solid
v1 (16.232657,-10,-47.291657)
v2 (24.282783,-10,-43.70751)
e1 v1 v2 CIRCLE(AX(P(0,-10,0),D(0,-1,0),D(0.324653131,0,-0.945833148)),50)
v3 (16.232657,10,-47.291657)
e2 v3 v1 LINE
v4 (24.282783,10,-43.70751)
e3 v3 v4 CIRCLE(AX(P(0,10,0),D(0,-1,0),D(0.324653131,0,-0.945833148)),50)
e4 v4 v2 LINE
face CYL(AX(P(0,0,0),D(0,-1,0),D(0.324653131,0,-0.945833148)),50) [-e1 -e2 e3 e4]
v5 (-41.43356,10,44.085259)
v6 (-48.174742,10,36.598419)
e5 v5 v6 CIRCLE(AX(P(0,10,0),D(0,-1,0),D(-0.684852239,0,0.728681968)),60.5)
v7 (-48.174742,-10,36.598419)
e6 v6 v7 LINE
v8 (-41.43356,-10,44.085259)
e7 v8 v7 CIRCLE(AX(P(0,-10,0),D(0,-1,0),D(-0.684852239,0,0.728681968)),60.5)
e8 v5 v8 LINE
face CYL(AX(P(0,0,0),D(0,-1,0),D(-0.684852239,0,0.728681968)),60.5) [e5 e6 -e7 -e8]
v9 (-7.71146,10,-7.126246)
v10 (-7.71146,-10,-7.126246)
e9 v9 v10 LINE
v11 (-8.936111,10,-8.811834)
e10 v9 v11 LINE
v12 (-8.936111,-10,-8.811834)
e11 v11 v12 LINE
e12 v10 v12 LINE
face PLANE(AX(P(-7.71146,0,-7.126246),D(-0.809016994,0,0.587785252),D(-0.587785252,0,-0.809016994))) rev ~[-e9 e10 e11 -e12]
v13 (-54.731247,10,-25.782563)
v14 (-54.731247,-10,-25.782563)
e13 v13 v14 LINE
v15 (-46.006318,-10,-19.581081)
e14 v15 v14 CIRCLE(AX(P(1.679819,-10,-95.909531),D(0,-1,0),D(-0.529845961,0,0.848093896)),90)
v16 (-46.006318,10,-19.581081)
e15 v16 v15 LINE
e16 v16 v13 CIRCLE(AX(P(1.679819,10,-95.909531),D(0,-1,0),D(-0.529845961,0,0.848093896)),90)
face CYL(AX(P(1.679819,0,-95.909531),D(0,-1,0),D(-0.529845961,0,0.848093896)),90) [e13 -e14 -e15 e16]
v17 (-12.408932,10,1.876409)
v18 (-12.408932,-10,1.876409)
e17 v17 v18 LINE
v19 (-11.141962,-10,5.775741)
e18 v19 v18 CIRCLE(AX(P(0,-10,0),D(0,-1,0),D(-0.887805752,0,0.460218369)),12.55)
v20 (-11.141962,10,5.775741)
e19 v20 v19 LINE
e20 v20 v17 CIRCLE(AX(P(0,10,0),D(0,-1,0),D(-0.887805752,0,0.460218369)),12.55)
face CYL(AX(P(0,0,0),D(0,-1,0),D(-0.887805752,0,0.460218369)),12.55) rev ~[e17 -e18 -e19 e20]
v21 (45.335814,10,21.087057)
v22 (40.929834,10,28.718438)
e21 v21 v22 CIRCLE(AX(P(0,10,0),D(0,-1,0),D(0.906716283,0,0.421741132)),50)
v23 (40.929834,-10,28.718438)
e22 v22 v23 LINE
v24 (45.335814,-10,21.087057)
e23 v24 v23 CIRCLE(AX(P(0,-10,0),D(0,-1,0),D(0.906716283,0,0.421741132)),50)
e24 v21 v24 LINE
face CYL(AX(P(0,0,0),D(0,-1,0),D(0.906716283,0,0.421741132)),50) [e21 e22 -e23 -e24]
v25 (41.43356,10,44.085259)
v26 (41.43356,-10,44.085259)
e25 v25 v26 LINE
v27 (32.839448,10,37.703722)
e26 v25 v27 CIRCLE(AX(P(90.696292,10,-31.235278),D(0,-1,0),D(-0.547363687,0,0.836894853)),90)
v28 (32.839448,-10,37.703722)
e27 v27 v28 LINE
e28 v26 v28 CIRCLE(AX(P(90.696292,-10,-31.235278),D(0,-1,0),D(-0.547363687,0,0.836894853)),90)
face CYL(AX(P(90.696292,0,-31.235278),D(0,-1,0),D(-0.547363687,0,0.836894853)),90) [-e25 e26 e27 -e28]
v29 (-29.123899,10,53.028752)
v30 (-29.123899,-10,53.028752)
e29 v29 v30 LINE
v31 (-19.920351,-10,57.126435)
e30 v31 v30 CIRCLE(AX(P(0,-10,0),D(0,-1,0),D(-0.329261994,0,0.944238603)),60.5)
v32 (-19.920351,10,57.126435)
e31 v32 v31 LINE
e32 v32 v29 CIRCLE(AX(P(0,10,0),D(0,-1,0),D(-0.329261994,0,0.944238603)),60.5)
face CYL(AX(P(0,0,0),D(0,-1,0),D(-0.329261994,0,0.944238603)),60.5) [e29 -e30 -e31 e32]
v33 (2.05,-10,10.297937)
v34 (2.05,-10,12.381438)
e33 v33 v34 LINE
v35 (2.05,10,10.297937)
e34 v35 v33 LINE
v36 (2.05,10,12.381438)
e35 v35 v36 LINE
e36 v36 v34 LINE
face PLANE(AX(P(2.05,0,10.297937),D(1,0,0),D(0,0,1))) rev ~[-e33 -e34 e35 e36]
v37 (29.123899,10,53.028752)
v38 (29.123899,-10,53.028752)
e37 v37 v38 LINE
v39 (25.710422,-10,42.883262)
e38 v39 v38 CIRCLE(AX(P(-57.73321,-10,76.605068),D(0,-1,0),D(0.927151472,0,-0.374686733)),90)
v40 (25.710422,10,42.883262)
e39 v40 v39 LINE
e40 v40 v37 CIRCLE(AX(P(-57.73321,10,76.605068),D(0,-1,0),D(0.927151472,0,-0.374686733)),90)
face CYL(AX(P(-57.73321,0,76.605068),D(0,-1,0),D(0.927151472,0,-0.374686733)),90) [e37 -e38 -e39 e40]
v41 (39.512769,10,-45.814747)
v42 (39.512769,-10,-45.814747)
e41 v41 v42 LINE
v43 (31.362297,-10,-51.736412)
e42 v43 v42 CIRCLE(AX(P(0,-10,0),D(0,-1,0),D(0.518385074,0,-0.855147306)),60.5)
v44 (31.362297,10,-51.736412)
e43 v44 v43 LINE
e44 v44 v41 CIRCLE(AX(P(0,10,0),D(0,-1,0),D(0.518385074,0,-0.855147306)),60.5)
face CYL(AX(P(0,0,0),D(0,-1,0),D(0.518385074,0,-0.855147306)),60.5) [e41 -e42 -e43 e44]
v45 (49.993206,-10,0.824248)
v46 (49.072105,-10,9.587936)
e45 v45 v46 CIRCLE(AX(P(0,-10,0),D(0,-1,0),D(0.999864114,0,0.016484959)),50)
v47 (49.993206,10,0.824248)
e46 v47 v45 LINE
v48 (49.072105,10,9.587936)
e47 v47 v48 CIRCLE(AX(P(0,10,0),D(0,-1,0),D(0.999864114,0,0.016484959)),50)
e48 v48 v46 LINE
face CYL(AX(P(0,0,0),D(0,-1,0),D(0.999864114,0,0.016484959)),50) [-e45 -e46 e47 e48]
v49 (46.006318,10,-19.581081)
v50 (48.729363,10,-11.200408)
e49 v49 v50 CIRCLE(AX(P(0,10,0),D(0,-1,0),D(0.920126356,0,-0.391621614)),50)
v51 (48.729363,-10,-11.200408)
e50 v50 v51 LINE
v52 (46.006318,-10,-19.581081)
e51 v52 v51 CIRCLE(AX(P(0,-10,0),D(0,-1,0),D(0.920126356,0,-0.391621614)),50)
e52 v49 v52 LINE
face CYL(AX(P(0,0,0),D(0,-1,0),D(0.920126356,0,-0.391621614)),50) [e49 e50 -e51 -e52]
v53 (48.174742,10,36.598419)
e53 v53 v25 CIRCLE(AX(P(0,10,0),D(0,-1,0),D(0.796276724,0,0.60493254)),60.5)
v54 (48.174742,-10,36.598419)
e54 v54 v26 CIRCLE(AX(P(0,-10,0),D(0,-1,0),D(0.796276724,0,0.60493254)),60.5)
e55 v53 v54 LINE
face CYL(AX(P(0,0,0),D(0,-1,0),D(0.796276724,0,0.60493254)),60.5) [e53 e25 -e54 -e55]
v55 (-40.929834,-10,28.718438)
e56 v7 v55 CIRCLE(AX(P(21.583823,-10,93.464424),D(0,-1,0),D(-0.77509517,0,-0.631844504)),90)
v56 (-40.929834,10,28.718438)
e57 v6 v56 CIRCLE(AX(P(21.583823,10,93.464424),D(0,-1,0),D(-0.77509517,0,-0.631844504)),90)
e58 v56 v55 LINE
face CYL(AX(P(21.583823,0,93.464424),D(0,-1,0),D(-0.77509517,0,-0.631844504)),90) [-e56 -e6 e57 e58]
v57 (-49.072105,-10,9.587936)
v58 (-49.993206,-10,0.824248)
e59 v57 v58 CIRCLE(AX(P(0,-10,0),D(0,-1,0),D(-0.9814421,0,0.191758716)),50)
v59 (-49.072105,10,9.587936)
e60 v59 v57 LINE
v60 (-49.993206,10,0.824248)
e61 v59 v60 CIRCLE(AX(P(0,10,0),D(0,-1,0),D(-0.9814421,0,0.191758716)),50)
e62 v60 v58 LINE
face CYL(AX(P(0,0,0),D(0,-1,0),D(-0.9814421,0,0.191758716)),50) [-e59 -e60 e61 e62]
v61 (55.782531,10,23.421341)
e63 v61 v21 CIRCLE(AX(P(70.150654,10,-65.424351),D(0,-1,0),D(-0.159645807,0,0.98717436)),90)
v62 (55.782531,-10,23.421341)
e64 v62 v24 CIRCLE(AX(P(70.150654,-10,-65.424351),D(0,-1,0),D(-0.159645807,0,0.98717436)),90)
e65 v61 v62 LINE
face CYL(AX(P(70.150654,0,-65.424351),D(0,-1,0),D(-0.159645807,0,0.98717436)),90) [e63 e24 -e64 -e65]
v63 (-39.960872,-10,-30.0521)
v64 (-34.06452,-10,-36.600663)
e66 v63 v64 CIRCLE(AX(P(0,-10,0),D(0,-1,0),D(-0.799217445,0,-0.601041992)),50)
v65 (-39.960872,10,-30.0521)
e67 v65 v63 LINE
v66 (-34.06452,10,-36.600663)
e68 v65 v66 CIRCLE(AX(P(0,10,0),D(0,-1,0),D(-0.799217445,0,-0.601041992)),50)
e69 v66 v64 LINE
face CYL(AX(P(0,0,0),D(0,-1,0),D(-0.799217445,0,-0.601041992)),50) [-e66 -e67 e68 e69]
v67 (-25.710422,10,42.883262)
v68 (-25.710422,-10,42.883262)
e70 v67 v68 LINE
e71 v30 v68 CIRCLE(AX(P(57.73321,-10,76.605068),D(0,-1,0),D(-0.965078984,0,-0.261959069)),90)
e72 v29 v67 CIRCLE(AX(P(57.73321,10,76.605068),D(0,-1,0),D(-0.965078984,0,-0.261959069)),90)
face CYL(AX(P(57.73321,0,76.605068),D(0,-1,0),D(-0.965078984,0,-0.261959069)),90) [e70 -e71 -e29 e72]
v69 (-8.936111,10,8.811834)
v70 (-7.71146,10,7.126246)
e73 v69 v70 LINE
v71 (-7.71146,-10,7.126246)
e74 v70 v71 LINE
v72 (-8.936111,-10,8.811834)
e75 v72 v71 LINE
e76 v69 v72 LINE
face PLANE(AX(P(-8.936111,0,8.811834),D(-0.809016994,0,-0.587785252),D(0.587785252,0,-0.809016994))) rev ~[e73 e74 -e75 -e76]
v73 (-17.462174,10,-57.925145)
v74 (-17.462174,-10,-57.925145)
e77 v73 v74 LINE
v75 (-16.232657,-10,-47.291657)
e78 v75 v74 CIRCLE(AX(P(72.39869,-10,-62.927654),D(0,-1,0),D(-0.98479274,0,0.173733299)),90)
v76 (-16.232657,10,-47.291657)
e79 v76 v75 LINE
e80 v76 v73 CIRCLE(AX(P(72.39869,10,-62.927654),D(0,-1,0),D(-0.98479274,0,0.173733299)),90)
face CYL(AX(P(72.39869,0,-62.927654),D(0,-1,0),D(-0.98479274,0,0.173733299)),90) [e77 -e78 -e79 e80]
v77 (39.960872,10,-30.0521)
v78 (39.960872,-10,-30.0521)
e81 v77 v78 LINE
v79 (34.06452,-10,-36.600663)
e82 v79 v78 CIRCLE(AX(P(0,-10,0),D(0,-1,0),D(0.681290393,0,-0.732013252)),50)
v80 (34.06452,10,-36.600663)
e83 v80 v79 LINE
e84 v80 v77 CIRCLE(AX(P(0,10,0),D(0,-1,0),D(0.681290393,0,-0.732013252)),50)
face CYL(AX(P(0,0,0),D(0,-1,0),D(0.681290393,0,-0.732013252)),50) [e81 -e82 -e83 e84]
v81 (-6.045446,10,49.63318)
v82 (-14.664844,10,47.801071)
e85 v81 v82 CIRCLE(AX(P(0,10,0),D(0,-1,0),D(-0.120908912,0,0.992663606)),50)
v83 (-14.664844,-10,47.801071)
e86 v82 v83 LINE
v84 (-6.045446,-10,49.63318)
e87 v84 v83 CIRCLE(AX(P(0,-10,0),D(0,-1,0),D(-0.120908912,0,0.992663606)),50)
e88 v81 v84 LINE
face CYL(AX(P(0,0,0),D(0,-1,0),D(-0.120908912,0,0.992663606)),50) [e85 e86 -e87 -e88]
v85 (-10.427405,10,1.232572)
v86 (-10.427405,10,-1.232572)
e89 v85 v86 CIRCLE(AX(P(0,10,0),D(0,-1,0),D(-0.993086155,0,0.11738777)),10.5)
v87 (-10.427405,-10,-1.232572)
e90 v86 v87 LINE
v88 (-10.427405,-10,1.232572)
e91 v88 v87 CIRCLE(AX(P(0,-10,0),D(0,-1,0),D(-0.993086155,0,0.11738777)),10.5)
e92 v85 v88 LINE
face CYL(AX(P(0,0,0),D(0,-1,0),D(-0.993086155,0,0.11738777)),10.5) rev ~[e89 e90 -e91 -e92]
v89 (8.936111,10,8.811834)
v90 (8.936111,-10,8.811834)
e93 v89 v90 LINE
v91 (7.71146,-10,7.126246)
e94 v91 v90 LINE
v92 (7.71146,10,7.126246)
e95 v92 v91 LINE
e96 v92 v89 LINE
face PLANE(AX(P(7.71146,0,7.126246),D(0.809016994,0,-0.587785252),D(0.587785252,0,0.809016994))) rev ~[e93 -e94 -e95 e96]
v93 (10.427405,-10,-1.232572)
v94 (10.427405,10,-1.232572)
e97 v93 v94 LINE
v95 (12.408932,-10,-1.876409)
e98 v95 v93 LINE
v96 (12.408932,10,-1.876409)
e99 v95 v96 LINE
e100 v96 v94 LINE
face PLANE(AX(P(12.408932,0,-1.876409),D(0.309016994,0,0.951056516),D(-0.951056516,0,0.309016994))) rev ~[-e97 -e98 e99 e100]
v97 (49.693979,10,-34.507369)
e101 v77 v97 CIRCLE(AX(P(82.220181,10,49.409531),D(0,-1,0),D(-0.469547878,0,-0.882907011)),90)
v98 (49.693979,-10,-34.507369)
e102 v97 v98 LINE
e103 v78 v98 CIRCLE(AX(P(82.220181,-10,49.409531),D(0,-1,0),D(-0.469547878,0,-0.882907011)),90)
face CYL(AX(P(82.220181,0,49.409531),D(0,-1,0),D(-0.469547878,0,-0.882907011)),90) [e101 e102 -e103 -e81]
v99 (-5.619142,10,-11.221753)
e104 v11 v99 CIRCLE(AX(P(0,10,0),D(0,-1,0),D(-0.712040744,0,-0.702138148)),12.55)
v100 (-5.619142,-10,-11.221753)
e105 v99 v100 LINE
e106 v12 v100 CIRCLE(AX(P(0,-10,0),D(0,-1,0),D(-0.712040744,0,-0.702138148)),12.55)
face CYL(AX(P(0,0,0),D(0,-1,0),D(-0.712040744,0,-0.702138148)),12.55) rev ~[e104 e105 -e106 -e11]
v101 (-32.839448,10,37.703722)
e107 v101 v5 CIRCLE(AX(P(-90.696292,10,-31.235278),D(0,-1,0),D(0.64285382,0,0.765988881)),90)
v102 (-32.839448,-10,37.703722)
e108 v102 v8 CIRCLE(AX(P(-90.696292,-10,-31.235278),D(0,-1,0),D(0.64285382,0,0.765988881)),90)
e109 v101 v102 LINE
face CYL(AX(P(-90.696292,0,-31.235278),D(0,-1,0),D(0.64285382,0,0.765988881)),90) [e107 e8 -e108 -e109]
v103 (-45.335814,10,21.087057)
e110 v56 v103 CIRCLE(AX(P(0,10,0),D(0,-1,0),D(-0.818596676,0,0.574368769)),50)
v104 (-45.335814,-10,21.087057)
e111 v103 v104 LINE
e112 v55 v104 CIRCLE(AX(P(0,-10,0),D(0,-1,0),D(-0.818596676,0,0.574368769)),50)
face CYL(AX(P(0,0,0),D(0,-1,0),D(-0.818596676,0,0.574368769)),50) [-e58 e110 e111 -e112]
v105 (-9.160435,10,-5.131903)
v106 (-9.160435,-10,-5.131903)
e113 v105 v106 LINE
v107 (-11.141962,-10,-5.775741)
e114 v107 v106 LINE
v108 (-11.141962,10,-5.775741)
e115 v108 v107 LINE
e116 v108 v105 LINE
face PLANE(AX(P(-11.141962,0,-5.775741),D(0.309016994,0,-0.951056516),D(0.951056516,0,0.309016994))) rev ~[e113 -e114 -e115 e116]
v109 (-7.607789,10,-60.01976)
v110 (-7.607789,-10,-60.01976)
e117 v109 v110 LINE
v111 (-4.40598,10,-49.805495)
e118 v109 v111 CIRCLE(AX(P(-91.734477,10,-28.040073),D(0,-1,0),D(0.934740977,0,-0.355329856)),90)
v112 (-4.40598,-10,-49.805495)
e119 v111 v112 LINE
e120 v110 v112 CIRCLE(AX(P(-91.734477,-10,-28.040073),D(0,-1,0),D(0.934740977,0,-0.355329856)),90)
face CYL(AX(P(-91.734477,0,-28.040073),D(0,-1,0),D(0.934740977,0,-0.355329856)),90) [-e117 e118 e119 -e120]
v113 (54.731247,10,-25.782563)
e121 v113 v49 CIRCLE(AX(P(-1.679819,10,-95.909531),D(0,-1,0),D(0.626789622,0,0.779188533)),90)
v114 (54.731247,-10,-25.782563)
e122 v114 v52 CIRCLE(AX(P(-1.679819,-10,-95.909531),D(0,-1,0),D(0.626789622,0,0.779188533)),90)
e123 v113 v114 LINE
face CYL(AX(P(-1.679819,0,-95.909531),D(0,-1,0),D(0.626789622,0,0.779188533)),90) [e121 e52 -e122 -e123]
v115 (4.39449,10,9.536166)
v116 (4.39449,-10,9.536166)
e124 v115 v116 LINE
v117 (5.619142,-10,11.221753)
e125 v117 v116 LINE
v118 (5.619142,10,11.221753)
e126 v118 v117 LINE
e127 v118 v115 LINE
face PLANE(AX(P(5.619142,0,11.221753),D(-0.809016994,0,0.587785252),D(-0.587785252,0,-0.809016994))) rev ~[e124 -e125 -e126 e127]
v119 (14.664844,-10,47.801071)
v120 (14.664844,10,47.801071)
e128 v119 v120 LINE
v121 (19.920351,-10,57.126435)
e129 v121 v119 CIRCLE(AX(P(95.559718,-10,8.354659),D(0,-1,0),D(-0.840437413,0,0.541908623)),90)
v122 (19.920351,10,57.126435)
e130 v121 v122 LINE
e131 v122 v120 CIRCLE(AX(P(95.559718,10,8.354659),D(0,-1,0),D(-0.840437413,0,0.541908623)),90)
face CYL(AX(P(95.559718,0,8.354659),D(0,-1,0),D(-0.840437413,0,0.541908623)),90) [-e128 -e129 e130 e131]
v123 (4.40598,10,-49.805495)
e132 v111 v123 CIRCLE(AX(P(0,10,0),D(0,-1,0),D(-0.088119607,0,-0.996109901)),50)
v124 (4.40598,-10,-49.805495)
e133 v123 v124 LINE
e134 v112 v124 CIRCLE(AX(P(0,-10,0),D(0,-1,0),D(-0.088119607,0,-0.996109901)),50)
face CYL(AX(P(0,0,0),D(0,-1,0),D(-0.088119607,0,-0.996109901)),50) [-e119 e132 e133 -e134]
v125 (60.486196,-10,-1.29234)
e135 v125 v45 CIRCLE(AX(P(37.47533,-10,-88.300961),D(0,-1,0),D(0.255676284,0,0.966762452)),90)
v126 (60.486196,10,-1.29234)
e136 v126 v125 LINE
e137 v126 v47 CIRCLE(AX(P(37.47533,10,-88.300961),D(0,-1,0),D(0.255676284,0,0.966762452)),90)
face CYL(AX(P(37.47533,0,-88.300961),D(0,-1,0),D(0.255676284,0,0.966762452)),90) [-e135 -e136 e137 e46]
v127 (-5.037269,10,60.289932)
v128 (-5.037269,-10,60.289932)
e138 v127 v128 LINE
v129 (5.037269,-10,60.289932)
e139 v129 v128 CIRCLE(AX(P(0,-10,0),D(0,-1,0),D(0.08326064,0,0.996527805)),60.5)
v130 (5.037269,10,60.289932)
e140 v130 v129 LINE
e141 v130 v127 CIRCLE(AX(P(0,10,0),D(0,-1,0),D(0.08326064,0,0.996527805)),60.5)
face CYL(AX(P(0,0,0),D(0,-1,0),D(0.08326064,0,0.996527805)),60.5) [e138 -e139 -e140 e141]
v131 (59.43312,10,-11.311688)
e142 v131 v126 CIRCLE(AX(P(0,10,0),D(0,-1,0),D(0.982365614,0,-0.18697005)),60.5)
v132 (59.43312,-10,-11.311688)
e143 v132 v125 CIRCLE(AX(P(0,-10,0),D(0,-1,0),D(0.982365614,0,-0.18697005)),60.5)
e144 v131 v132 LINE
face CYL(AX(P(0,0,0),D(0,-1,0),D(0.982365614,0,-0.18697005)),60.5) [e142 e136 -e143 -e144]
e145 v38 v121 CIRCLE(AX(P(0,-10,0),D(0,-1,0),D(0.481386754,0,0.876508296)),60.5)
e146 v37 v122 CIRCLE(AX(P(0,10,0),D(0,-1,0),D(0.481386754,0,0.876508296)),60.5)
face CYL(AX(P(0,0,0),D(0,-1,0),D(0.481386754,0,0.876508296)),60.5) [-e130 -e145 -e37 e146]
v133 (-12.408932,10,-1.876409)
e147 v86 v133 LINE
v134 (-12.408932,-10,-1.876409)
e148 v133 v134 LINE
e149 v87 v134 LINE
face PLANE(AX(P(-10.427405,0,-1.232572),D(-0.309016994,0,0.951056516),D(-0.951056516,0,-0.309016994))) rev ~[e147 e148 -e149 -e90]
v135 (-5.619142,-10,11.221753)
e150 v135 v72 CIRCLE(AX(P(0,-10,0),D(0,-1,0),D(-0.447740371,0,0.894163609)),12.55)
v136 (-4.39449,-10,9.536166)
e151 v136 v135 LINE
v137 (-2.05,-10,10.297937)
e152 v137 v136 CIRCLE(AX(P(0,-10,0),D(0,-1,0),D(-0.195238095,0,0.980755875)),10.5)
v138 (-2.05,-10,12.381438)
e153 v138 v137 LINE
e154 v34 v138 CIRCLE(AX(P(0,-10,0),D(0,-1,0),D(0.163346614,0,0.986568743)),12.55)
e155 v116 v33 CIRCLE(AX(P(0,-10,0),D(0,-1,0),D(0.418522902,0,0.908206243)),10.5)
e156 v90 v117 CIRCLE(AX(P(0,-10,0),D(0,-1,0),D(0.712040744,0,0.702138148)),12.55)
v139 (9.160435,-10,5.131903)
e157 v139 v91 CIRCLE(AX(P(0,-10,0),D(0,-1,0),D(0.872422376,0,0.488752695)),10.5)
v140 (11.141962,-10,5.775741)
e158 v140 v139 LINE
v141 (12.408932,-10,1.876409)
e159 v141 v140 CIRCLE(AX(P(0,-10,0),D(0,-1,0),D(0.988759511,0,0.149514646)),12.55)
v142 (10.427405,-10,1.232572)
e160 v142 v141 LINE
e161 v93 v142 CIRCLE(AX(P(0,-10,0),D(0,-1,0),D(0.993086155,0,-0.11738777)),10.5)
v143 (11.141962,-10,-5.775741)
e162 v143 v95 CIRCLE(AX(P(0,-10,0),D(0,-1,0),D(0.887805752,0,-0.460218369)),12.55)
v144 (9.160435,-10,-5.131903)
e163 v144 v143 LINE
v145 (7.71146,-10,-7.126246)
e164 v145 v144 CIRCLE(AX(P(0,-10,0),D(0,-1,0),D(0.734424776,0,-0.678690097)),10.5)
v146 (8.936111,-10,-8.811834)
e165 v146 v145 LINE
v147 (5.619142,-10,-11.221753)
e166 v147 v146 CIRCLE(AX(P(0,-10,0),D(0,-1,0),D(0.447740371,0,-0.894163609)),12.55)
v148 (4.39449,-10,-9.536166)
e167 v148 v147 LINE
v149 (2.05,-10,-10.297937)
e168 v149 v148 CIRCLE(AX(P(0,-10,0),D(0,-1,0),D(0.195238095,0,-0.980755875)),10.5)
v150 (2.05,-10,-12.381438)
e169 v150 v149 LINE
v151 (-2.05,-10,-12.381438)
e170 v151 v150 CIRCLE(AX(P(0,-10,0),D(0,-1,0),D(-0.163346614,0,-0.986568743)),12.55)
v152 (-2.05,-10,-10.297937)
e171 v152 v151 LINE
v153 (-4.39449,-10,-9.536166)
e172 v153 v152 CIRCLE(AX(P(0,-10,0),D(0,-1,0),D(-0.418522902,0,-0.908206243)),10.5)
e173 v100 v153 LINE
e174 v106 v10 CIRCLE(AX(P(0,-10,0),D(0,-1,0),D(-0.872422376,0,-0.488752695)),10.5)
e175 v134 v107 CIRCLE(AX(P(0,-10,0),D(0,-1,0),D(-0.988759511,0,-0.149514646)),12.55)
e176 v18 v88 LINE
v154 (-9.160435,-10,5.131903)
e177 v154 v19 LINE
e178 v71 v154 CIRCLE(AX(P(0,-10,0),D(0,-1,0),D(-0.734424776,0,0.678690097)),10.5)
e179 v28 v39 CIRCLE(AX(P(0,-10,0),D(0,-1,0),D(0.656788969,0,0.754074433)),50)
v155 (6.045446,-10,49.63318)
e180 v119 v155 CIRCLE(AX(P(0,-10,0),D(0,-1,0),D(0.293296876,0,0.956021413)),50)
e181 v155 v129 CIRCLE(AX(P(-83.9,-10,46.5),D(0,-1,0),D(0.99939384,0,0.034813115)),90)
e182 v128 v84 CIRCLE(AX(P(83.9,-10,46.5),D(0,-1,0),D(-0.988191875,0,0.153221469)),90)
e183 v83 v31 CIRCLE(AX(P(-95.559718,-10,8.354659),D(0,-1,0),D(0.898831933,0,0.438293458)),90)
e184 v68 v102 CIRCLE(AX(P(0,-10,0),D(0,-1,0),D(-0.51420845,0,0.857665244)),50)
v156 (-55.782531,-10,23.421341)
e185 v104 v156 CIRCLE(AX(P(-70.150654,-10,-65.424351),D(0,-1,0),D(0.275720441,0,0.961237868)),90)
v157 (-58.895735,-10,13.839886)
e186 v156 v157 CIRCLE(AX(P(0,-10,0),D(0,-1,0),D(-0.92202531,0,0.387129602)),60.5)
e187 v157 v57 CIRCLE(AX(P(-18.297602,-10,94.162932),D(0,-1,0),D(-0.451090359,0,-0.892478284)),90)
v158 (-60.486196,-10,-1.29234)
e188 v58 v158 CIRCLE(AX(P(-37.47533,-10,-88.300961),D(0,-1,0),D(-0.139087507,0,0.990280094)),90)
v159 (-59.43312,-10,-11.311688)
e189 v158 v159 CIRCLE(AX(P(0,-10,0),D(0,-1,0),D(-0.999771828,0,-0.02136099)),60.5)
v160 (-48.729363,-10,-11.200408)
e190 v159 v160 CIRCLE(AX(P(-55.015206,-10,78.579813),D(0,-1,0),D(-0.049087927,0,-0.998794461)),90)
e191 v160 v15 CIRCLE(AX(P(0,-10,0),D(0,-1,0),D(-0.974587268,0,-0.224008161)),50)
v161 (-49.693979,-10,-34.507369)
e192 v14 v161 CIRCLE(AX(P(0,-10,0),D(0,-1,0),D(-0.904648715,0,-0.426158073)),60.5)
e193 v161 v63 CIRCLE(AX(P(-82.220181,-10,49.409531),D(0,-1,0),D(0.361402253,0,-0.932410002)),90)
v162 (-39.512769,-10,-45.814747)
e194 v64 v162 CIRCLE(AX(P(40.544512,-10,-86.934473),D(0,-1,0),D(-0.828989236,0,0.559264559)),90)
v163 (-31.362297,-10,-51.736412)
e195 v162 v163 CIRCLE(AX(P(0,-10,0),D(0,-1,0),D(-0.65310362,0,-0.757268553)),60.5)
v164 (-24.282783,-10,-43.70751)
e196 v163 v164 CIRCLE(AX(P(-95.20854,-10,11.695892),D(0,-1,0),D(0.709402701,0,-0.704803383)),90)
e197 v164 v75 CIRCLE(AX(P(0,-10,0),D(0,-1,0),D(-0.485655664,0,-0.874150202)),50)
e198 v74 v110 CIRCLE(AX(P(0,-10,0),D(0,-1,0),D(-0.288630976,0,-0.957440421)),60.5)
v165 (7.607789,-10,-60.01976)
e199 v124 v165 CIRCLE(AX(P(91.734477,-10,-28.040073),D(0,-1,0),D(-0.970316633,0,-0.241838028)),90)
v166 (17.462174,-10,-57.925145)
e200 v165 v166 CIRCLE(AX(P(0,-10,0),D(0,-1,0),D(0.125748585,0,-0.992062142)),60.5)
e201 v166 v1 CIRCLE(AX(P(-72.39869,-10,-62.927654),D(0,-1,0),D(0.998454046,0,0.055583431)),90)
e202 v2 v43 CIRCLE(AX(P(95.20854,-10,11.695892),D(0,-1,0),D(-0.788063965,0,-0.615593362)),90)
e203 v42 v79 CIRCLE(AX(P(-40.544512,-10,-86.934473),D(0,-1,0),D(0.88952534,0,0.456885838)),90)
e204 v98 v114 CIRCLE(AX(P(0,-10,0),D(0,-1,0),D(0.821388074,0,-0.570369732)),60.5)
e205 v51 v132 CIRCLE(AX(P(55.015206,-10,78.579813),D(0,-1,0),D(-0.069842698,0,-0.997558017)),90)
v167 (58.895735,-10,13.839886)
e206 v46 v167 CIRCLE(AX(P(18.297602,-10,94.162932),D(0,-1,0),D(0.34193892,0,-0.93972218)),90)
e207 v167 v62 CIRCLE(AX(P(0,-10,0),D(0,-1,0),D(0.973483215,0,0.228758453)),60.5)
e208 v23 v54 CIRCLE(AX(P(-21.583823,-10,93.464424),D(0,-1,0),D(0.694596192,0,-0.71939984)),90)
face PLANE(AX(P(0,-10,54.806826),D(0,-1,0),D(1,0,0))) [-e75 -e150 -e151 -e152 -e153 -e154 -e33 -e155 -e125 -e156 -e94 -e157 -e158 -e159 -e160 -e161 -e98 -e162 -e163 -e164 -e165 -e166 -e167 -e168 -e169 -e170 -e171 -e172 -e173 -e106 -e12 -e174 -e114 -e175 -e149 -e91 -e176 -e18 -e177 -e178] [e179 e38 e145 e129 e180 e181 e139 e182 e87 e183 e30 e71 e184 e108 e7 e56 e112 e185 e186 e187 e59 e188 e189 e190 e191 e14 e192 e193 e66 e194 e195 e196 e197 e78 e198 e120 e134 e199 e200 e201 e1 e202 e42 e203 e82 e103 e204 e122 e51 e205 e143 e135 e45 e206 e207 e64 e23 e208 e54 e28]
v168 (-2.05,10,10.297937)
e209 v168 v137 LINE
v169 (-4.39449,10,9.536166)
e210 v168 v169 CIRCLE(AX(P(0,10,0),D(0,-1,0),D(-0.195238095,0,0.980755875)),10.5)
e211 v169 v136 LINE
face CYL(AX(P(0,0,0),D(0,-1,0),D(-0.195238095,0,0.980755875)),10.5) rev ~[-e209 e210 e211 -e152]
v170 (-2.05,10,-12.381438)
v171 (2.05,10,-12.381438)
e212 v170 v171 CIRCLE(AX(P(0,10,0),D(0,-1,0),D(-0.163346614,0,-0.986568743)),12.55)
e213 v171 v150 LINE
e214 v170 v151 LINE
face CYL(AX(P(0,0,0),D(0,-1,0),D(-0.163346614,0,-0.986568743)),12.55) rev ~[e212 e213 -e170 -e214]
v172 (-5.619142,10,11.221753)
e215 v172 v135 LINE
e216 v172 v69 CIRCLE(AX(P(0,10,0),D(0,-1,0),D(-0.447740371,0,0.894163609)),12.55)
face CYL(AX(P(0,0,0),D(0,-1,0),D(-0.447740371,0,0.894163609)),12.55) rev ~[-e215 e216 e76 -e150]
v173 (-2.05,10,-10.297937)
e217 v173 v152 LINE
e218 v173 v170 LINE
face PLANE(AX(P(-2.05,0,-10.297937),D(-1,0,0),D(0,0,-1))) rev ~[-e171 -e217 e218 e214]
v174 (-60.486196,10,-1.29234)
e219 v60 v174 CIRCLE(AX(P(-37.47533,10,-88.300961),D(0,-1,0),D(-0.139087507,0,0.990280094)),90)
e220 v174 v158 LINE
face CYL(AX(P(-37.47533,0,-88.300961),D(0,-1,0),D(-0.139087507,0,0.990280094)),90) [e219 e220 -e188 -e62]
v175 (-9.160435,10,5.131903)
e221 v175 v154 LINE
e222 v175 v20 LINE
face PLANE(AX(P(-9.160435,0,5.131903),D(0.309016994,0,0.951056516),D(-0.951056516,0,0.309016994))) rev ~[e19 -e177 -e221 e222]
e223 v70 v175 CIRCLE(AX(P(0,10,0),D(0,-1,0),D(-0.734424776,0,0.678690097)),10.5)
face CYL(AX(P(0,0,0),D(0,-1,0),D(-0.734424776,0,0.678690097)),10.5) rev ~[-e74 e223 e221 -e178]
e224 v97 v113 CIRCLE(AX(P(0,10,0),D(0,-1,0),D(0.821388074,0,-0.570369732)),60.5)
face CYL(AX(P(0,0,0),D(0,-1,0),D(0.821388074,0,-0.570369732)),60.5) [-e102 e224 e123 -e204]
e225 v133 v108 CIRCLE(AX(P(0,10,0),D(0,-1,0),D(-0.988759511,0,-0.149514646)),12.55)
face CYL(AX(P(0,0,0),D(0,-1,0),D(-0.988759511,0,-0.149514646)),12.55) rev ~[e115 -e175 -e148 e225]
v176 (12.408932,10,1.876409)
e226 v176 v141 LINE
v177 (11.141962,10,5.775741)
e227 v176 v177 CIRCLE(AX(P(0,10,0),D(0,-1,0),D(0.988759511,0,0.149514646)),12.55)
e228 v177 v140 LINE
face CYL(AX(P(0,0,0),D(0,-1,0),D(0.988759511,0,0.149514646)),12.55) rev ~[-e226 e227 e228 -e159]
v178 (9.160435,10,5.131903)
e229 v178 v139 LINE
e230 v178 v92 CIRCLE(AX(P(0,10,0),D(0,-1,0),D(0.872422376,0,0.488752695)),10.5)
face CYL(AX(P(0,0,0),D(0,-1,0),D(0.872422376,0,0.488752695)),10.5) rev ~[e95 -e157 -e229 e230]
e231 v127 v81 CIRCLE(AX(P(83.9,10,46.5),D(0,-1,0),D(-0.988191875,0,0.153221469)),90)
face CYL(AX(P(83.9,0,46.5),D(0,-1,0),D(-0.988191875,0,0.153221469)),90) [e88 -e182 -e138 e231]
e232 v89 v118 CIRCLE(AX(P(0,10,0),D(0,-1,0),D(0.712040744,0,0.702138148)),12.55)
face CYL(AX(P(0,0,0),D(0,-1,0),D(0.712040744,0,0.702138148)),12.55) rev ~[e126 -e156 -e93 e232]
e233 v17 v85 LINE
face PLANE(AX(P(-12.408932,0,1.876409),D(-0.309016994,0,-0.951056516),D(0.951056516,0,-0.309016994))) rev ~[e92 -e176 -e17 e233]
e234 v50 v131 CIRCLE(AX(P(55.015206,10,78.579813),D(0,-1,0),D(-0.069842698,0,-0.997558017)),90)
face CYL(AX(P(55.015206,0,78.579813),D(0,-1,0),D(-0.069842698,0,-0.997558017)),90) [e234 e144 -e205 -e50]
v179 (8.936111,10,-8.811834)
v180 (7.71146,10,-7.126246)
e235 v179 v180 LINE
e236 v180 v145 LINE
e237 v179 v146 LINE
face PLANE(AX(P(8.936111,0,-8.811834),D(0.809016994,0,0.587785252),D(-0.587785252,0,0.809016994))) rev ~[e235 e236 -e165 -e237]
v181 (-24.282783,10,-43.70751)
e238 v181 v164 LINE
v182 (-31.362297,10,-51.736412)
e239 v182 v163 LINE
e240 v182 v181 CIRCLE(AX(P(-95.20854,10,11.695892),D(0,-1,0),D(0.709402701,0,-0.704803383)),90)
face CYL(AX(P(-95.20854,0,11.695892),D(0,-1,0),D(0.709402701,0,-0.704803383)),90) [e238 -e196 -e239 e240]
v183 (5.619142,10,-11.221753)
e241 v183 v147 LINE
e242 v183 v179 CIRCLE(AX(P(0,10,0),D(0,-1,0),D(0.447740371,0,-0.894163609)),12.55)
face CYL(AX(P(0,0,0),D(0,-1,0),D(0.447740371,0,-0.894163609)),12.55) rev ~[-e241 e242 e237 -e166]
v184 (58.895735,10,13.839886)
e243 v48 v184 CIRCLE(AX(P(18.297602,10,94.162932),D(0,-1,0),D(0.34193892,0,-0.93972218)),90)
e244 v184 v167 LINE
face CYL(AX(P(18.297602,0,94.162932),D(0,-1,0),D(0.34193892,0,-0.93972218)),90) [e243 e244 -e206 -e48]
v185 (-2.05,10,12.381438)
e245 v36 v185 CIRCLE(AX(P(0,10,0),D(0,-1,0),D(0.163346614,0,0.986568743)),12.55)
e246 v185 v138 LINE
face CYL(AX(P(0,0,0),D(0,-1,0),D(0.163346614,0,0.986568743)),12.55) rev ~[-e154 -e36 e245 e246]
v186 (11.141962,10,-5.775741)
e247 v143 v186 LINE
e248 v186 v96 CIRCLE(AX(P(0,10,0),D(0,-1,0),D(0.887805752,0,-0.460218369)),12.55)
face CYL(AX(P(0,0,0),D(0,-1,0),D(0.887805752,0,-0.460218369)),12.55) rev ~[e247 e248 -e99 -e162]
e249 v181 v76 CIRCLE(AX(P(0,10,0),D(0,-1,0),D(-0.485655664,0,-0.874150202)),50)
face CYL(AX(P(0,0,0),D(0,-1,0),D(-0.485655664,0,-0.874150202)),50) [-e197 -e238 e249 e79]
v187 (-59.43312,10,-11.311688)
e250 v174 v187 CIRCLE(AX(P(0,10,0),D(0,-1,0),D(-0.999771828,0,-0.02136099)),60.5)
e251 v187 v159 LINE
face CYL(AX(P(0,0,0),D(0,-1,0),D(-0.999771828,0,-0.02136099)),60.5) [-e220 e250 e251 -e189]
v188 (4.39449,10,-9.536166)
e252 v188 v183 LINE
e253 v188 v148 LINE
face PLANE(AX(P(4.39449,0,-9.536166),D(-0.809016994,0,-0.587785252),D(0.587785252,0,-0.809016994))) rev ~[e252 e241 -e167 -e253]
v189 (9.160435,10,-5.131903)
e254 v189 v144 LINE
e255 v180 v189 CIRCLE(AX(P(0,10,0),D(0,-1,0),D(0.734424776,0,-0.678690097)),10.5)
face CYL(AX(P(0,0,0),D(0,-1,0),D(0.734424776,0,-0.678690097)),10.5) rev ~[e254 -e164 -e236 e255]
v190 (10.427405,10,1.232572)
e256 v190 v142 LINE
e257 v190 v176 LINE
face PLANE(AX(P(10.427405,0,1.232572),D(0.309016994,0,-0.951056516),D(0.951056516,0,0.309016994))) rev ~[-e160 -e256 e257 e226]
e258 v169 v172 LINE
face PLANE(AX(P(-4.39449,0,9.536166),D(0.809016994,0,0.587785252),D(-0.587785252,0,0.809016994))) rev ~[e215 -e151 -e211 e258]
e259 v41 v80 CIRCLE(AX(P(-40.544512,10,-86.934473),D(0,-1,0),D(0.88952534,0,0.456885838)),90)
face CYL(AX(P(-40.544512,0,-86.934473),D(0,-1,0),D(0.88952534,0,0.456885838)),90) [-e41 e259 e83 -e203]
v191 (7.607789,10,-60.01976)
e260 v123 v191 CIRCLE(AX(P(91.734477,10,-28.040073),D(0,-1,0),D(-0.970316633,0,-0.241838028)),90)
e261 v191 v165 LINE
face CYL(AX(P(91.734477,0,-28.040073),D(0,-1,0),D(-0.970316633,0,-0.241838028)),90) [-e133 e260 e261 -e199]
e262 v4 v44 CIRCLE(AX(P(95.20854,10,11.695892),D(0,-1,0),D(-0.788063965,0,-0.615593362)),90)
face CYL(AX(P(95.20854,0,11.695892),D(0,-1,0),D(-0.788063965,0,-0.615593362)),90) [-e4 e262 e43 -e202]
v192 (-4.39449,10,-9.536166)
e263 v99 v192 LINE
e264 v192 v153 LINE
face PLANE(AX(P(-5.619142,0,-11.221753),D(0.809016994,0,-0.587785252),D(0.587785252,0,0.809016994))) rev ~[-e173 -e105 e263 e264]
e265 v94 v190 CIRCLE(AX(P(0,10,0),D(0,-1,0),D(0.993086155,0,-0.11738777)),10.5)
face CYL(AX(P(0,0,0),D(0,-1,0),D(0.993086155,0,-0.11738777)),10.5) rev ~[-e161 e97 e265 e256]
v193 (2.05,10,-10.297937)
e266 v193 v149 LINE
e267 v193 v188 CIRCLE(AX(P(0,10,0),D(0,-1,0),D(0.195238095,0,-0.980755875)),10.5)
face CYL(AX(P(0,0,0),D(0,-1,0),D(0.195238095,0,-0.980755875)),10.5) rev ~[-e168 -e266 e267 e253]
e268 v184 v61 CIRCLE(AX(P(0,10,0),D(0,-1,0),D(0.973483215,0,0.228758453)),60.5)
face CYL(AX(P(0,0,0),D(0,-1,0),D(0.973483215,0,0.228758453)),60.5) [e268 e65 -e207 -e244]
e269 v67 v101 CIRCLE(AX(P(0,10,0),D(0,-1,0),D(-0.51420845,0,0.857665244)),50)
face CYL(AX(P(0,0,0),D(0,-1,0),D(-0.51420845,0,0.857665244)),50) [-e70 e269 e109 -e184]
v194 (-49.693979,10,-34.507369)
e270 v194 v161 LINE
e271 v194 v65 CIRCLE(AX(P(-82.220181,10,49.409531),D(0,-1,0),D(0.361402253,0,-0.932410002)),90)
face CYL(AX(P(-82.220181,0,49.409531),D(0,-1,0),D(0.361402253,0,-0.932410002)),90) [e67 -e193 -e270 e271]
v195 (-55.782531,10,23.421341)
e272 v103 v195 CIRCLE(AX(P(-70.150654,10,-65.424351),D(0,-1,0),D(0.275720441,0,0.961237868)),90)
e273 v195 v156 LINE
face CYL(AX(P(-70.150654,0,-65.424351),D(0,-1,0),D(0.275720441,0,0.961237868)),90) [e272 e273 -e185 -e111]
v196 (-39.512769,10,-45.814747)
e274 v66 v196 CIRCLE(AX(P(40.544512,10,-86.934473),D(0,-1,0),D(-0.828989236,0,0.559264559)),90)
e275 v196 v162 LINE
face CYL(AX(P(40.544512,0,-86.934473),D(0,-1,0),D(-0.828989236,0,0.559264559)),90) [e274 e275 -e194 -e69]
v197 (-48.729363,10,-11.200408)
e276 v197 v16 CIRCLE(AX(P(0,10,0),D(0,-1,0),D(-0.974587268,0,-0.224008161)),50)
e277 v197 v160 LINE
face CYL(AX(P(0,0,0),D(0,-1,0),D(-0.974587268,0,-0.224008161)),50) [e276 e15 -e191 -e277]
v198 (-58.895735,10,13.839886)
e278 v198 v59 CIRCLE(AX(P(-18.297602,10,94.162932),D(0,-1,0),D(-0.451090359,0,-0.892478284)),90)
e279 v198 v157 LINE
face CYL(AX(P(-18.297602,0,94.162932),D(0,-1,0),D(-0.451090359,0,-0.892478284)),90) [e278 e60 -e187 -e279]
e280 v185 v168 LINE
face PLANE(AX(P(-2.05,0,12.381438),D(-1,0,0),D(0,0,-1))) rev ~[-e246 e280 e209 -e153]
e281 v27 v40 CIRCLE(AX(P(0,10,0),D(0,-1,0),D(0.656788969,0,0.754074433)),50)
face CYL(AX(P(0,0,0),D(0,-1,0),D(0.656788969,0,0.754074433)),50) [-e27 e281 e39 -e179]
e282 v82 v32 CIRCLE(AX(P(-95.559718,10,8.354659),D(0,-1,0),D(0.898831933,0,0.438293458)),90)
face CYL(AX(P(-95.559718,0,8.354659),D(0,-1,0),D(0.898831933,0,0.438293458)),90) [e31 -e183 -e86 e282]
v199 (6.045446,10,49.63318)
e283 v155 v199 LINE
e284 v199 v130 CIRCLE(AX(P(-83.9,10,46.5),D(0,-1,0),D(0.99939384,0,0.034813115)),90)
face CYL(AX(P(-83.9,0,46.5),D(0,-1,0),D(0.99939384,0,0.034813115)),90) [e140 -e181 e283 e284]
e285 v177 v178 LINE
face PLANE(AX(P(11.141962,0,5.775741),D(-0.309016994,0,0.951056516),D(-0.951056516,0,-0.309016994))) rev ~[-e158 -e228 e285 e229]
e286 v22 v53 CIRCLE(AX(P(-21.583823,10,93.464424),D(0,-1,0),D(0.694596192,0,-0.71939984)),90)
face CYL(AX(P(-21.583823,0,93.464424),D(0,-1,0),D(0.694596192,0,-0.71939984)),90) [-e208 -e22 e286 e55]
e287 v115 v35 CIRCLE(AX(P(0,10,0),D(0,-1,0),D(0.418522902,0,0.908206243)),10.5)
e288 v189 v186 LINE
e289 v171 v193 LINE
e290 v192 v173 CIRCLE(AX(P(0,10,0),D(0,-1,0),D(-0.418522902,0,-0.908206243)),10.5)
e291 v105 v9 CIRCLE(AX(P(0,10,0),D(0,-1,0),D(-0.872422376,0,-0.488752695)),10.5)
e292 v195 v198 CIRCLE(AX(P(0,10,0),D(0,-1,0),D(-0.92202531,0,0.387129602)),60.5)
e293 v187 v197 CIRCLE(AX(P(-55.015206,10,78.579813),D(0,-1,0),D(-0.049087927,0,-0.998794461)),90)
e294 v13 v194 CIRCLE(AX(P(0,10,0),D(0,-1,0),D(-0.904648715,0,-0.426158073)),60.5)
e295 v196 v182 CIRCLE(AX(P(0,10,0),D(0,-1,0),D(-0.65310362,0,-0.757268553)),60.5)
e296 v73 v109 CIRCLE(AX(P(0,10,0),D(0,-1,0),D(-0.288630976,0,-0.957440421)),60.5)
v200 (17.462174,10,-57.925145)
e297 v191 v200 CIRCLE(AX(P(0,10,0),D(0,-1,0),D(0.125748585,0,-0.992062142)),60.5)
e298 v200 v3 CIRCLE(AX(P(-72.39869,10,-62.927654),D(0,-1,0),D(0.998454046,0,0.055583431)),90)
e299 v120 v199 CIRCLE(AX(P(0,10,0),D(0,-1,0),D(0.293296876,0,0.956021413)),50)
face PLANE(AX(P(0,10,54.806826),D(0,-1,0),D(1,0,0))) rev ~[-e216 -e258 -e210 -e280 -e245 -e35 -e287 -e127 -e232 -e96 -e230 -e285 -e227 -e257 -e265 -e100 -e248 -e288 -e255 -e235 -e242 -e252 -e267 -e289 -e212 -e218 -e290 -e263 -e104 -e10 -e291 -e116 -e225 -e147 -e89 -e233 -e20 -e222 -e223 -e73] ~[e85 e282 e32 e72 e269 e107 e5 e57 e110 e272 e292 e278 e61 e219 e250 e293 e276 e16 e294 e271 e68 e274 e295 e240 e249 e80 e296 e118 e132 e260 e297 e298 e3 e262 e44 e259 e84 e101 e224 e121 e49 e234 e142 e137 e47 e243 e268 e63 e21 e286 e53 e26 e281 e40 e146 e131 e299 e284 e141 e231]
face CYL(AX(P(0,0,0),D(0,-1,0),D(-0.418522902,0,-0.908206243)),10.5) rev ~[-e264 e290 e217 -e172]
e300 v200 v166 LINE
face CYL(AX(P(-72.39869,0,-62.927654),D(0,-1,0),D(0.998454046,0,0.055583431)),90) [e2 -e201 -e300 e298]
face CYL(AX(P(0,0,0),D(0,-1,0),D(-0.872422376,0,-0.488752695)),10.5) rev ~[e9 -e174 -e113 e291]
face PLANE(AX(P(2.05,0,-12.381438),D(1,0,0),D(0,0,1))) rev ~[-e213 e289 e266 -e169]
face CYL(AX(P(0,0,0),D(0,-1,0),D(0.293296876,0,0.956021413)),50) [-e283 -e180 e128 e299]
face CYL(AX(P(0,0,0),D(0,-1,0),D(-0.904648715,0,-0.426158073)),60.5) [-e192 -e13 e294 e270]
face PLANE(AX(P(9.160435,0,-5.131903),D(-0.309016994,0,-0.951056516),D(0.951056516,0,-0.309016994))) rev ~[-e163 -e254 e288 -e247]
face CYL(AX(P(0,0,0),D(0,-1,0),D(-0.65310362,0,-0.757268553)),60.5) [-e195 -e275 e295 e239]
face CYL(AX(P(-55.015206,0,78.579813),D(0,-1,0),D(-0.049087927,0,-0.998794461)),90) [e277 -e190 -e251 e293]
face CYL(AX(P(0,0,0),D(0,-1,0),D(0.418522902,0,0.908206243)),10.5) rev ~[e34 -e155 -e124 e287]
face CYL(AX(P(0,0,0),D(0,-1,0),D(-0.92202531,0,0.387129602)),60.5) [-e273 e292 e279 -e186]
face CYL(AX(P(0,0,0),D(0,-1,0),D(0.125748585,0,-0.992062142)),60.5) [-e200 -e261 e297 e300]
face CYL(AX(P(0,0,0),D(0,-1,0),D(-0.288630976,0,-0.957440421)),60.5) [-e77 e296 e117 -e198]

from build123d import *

# Parameters (mm, degrees)
F2_DEPTH = 10
F3_DEPTH = 12.5


with BuildPart() as f2:
    # F1 (on Front) → F2 (new body, symmetric)
    with BuildSketch(Plane.XZ):
        with BuildLine():
            ThreePointArc((-6.0454455831, 49.6331803102), (0, 50), (6.0454455831, 49.6331803102))
            ThreePointArc((6.0454455831, 49.6331803102), (5.6999328162, 54.9765582241), (5.0372687356, 60.2899321917))
            ThreePointArc((5.0372687356, 60.2899321917), (0, 60.5), (-5.0372687356, 60.2899321917))
            ThreePointArc((-5.0372687356, 60.2899321917), (-5.6999328162, 54.9765582241), (-6.0454455831, 49.6331803102))
        make_face()
        with BuildLine():
            ThreePointArc((14.6648437927, 47.8010706631), (20.3368321538, 45.6772728821), (25.7104224964, 42.8832621783))
            ThreePointArc((25.7104224964, 42.8832621783), (27.5681284731, 47.905213503), (29.1238986033, 53.0287519196))
            ThreePointArc((29.1238986033, 53.0287519196), (24.6075669061, 55.2695001874), (19.9203506586, 57.1264354711))
            ThreePointArc((19.9203506586, 57.1264354711), (17.1538330068, 52.5419565819), (14.6648437927, 47.8010706631))
        make_face()
        with BuildLine():
            ThreePointArc((32.8394484508, 37.7037216393), (37.1572412739, 33.4565303179), (40.9298337882, 28.7184384337))
            ThreePointArc((40.9298337882, 28.7184384337), (44.6695442683, 32.5506221621), (48.1747418201, 36.5984186894))
            ThreePointArc((48.1747418201, 36.5984186894), (44.9602619414, 40.4824016847), (41.4335604532, 44.0852590802))
            ThreePointArc((41.4335604532, 44.0852590802), (37.0415452653, 41.022373318), (32.8394484508, 37.7037216393))
        make_face()
        with BuildLine():
            ThreePointArc((45.3358141347, 21.0870566164), (47.5528258148, 15.4508497187), (49.0721049822, 9.587935785))
            ThreePointArc((49.0721049822, 9.587935785), (54.0471900496, 11.5677325362), (58.8957345225, 13.8398863816))
            ThreePointArc((58.8957345225, 13.8398863816), (57.5389192359, 18.6955281597), (55.7825312334, 23.4213408923))
            ThreePointArc((55.7825312334, 23.4213408923), (50.5244378355, 22.4096490308), (45.3358141347, 21.0870566164))
        make_face()
        with BuildLine():
            ThreePointArc((49.9932056918, 0.8242479348), (49.9983013941, 0.4121379686), (50, 0))
            ThreePointArc((50, 0), (49.6813253191, -5.6361258444), (48.7293634187, -11.2004080646))
            ThreePointArc((48.7293634187, -11.2004080646), (54.0795856679, -11.4153231348), (59.433119675, -11.3116880129))
            ThreePointArc((59.433119675, -11.3116880129), (60.1685746698, -6.3239720277), (60.486195595, -1.2923399121))
            ThreePointArc((60.486195595, -1.2923399121), (55.2711961039, -0.077907159), (49.9932056918, 0.8242479348))
        make_face()
        with BuildLine():
            ThreePointArc((54.7312472383, -25.7825634052), (50.4610624428, -22.5519924933), (46.0063178108, -19.5810807029))
            ThreePointArc((46.0063178108, -19.5810807029), (43.3012701892, -25), (39.9608722277, -30.0520996073))
            ThreePointArc((39.9608722277, -30.0520996073), (44.7611296266, -32.4245657308), (49.6939785027, -34.5073687866))
            ThreePointArc((49.6939785027, -34.5073687866), (52.394536929, -30.25), (54.7312472383, -25.7825634052))
        make_face()
        with BuildLine():
            ThreePointArc((39.5127690163, -45.8147474582), (36.9257526611, -41.1266334471), (34.064519626, -36.6006625985))
            ThreePointArc((34.064519626, -36.6006625985), (29.3892626146, -40.4508497187), (24.2827831954, -43.7075101131))
            ThreePointArc((24.2827831954, -43.7075101131), (27.7030676308, -47.827306344), (31.3622969917, -51.7364120075))
            ThreePointArc((31.3622969917, -51.7364120075), (35.5610077637, -48.9455281597), (39.5127690163, -45.8147474582))
        make_face()
        with BuildLine():
            ThreePointArc((17.4621740692, -57.9251454618), (17.0056447843, -52.5901058542), (16.2326565314, -47.2916574242))
            ThreePointArc((16.2326565314, -47.2916574242), (10.3955845409, -48.9073800367), (4.4059803465, -49.8054950501))
            ThreePointArc((4.4059803465, -49.8054950501), (5.8548935672, -54.9602711929), (7.6077894133, -60.0197595817))
            ThreePointArc((7.6077894133, -60.0197595817), (12.5786572945, -59.1779298444), (17.4621740692, -57.9251454618))
        make_face()
        with BuildLine():
            ThreePointArc((-7.6077894133, -60.0197595817), (-5.8548935672, -54.9602711929), (-4.4059803465, -49.8054950501))
            ThreePointArc((-4.4059803465, -49.8054950501), (-10.3955845409, -48.9073800367), (-16.2326565314, -47.2916574242))
            ThreePointArc((-16.2326565314, -47.2916574242), (-17.0056447843, -52.5901058542), (-17.4621740692, -57.9251454618))
            ThreePointArc((-17.4621740692, -57.9251454618), (-12.5786572945, -59.1779298444), (-7.6077894133, -60.0197595817))
        make_face()
        with BuildLine():
            ThreePointArc((-31.3622969917, -51.7364120075), (-27.7030676308, -47.827306344), (-24.2827831954, -43.7075101131))
            ThreePointArc((-24.2827831954, -43.7075101131), (-29.3892626146, -40.4508497187), (-34.064519626, -36.6006625985))
            ThreePointArc((-34.064519626, -36.6006625985), (-36.9257526611, -41.1266334471), (-39.5127690163, -45.8147474582))
            ThreePointArc((-39.5127690164, -45.8147474582), (-35.5610077637, -48.9455281597), (-31.3622969917, -51.7364120075))
        make_face()
        with BuildLine():
            ThreePointArc((-49.6939785027, -34.5073687866), (-44.7611296266, -32.4245657308), (-39.9608722277, -30.0520996073))
            ThreePointArc((-39.9608722277, -30.0520996073), (-43.3012701892, -25), (-46.0063178108, -19.5810807029))
            ThreePointArc((-46.0063178108, -19.5810807029), (-50.4610624428, -22.5519924933), (-54.7312472383, -25.7825634052))
            ThreePointArc((-54.7312472383, -25.7825634052), (-52.394536929, -30.25), (-49.6939785027, -34.5073687866))
        make_face()
        with BuildLine():
            ThreePointArc((-59.433119675, -11.3116880129), (-54.0795856679, -11.4153231348), (-48.7293634187, -11.2004080646))
            ThreePointArc((-48.7293634187, -11.2004080646), (-49.7260947684, -5.2264231634), (-49.9932056918, 0.8242479348))
            ThreePointArc((-49.9932056918, 0.8242479348), (-55.2711961039, -0.077907159), (-60.486195595, -1.2923399121))
            ThreePointArc((-60.486195595, -1.2923399121), (-60.1685746698, -6.3239720277), (-59.433119675, -11.3116880129))
        make_face()
        with BuildLine():
            ThreePointArc((-49.0721049822, 9.587935785), (-47.5528258148, 15.4508497187), (-45.3358141347, 21.0870566164))
            ThreePointArc((-45.3358141347, 21.0870566164), (-50.5244378355, 22.4096490308), (-55.7825312334, 23.4213408923))
            ThreePointArc((-55.7825312334, 23.4213408923), (-57.5389192359, 18.6955281597), (-58.8957345225, 13.8398863816))
            ThreePointArc((-58.8957345225, 13.8398863816), (-54.0471900496, 11.5677325362), (-49.0721049822, 9.587935785))
        make_face()
        with BuildLine():
            ThreePointArc((-25.7104224964, 42.8832621783), (-20.3368321538, 45.6772728821), (-14.6648437927, 47.8010706631))
            ThreePointArc((-14.6648437927, 47.8010706631), (-17.1538330068, 52.5419565819), (-19.9203506586, 57.1264354711))
            ThreePointArc((-19.9203506586, 57.1264354711), (-24.6075669061, 55.2695001874), (-29.1238986033, 53.0287519196))
            ThreePointArc((-29.1238986033, 53.0287519196), (-27.5681284731, 47.905213503), (-25.7104224964, 42.8832621783))
        make_face()
        with BuildLine():
            ThreePointArc((48.7293634187, -11.2004080646), (49.6813253191, -5.6361258444), (50, 0))
            ThreePointArc((50, 0), (49.9983013941, 0.4121379686), (49.9932056918, 0.8242479348))
            ThreePointArc((49.9932056918, 0.8242479348), (49.7260947684, 5.2264231634), (49.0721049822, 9.587935785))
            ThreePointArc((49.0721049822, 9.587935785), (47.5528258148, 15.4508497187), (45.3358141347, 21.0870566164))
            ThreePointArc((45.3358141347, 21.0870566164), (43.3012701892, 25), (40.9298337882, 28.7184384337))
            ThreePointArc((40.9298337882, 28.7184384337), (37.1572412739, 33.4565303179), (32.8394484508, 37.7037216393))
            ThreePointArc((32.8394484508, 37.7037216393), (29.3892626146, 40.4508497187), (25.7104224964, 42.8832621783))
            ThreePointArc((25.7104224964, 42.8832621783), (20.3368321538, 45.6772728821), (14.6648437927, 47.8010706631))
            ThreePointArc((14.6648437927, 47.8010706631), (10.3955845409, 48.9073800367), (6.0454455831, 49.6331803102))
            ThreePointArc((6.0454455831, 49.6331803102), (0, 50), (-6.0454455831, 49.6331803102))
            ThreePointArc((-6.0454455831, 49.6331803102), (-10.3955845409, 48.9073800367), (-14.6648437927, 47.8010706631))
            ThreePointArc((-14.6648437927, 47.8010706631), (-20.3368321538, 45.6772728821), (-25.7104224964, 42.8832621783))
            ThreePointArc((-25.7104224964, 42.8832621783), (-29.3892626146, 40.4508497187), (-32.8394484508, 37.7037216393))
            ThreePointArc((-32.8394484508, 37.7037216393), (-37.1572412739, 33.4565303179), (-40.9298337882, 28.7184384337))
            ThreePointArc((-40.9298337882, 28.7184384337), (-43.3012701892, 25), (-45.3358141347, 21.0870566164))
            ThreePointArc((-45.3358141347, 21.0870566164), (-47.5528258148, 15.4508497187), (-49.0721049822, 9.587935785))
            ThreePointArc((-49.0721049822, 9.587935785), (-49.7260947684, 5.2264231634), (-49.9932056918, 0.8242479348))
            ThreePointArc((-49.9932056918, 0.8242479348), (-49.7260947684, -5.2264231634), (-48.7293634187, -11.2004080646))
            ThreePointArc((-48.7293634187, -11.2004080646), (-47.5528258148, -15.4508497187), (-46.0063178108, -19.5810807029))
            ThreePointArc((-46.0063178108, -19.5810807029), (-43.3012701892, -25), (-39.9608722277, -30.0520996073))
            ThreePointArc((-39.9608722277, -30.0520996073), (-37.1572412739, -33.4565303179), (-34.064519626, -36.6006625985))
            ThreePointArc((-34.064519626, -36.6006625985), (-29.3892626146, -40.4508497187), (-24.2827831954, -43.7075101131))
            ThreePointArc((-24.2827831954, -43.7075101131), (-20.3368321538, -45.6772728821), (-16.2326565314, -47.2916574242))
            ThreePointArc((-16.2326565314, -47.2916574242), (-10.3955845409, -48.9073800367), (-4.4059803465, -49.8054950501))
            ThreePointArc((-4.4059803465, -49.8054950501), (0, -50), (4.4059803465, -49.8054950501))
            ThreePointArc((4.4059803465, -49.8054950501), (10.3955845409, -48.9073800367), (16.2326565314, -47.2916574242))
            ThreePointArc((16.2326565314, -47.2916574242), (20.3368321538, -45.6772728821), (24.2827831954, -43.7075101131))
            ThreePointArc((24.2827831954, -43.7075101131), (29.3892626146, -40.4508497187), (34.064519626, -36.6006625985))
            ThreePointArc((34.064519626, -36.6006625985), (37.1572412739, -33.4565303179), (39.9608722277, -30.0520996073))
            ThreePointArc((39.9608722277, -30.0520996073), (43.3012701892, -25), (46.0063178108, -19.5810807029))
            ThreePointArc((46.0063178108, -19.5810807029), (47.5528258148, -15.4508497187), (48.7293634187, -11.2004080646))
        make_face()
        with BuildLine():
            ThreePointArc((-40.9298337882, 28.7184384337), (-37.1572412739, 33.4565303179), (-32.8394484508, 37.7037216393))
            ThreePointArc((-32.8394484508, 37.7037216393), (-37.0415452653, 41.022373318), (-41.4335604532, 44.0852590802))
            ThreePointArc((-41.4335604532, 44.0852590802), (-44.9602619414, 40.4824016847), (-48.1747418201, 36.5984186894))
            ThreePointArc((-48.1747418201, 36.5984186894), (-44.6695442683, 32.5506221621), (-40.9298337882, 28.7184384337))
        make_face()
    extrude(amount=F2_DEPTH, both=True)

    # F0 (on Front) → F3 (cut, symmetric)
    with BuildSketch(Plane.XZ):
        with BuildLine():
            ThreePointArc((10.4274046286, -1.2325715847), (10.4818354452, -0.6173537882), (10.5, 0))
            ThreePointArc((10.5, 0), (10.4818354452, 0.6173537882), (10.4274046286, 1.2325715847))
            ThreePointArc((10.4274046286, 1.2325715847), (9.9860934211, 3.2446784409), (9.1604349517, 5.1319033015))
            ThreePointArc((9.1604349517, 5.1319033015), (8.4946784409, 6.1717451491), (7.7114601519, 7.1262460192))
            ThreePointArc((7.7114601519, 7.1262460192), (6.1717451491, 8.4946784409), (4.3944904749, 9.5361655536))
            ThreePointArc((4.3944904749, 9.5361655536), (3.2446784409, 9.9860934211), (2.05, 10.2979366865))
            ThreePointArc((2.05, 10.2979366865), (0, 10.5), (-2.05, 10.2979366865))
            ThreePointArc((-2.05, 10.2979366865), (-3.2446784409, 9.9860934211), (-4.3944904749, 9.5361655536))
            ThreePointArc((-4.3944904749, 9.5361655536), (-6.1717451491, 8.4946784409), (-7.7114601519, 7.1262460192))
            ThreePointArc((-7.7114601519, 7.1262460192), (-8.4946784409, 6.1717451491), (-9.1604349517, 5.1319033015))
            ThreePointArc((-9.1604349517, 5.1319033015), (-9.9860934211, 3.2446784409), (-10.4274046286, 1.2325715847))
            ThreePointArc((-10.4274046286, 1.2325715847), (-10.5, 0), (-10.4274046286, -1.2325715847))
            ThreePointArc((-10.4274046286, -1.2325715847), (-9.9860934211, -3.2446784409), (-9.1604349517, -5.1319033015))
            ThreePointArc((-9.1604349517, -5.1319033015), (-8.4946784409, -6.1717451491), (-7.7114601519, -7.1262460192))
            ThreePointArc((-7.7114601519, -7.1262460192), (-6.1717451491, -8.4946784409), (-4.3944904749, -9.5361655536))
            ThreePointArc((-4.3944904749, -9.5361655536), (-3.2446784409, -9.9860934211), (-2.05, -10.2979366865))
            ThreePointArc((-2.05, -10.2979366865), (0, -10.5), (2.05, -10.2979366865))
            ThreePointArc((2.05, -10.2979366865), (3.2446784409, -9.9860934211), (4.3944904749, -9.5361655536))
            ThreePointArc((4.3944904749, -9.5361655536), (6.1717451491, -8.4946784409), (7.7114601519, -7.1262460192))
            ThreePointArc((7.7114601519, -7.1262460192), (8.4946784409, -6.1717451491), (9.1604349517, -5.1319033015))
            ThreePointArc((9.1604349517, -5.1319033015), (9.9860934211, -3.2446784409), (10.4274046286, -1.2325715847))
        make_face()
        with BuildLine():
            ThreePointArc((9.1604349517, 5.1319033015), (9.9860934211, 3.2446784409), (10.4274046286, 1.2325715847))
            Line((10.4274046286, 1.2325715847), (12.4089318626, 1.8764088117))
            ThreePointArc((12.4089318626, 1.8764088117), (11.9357592795, 3.8781632794), (11.1419621857, 5.7757405285))
            Line((11.1419621857, 5.7757405285), (9.1604349517, 5.1319033015))
        make_face()
        with BuildLine():
            Line((12.4089318626, -1.8764088117), (10.4274046286, -1.2325715847))
            ThreePointArc((10.4274046286, -1.2325715847), (9.9860934211, -3.2446784409), (9.1604349517, -5.1319033015))
            Line((9.1604349517, -5.1319033015), (11.1419621857, -5.7757405285))
            ThreePointArc((11.1419621857, -5.7757405285), (11.9357592795, -3.8781632794), (12.4089318626, -1.8764088117))
        make_face()
        with BuildLine():
            ThreePointArc((4.3944904749, 9.5361655536), (6.1717451491, 8.4946784409), (7.7114601519, 7.1262460192))
            Line((7.7114601519, 7.1262460192), (8.9361113321, 8.8118337626))
            ThreePointArc((8.9361113321, 8.8118337626), (7.3767049163, 10.1531632794), (5.6191416552, 11.221753297))
            Line((5.6191416552, 11.221753297), (4.3944904749, 9.5361655536))
        make_face()
        with BuildLine():
            Line((8.9361113321, -8.8118337626), (7.7114601519, -7.1262460192))
            ThreePointArc((7.7114601519, -7.1262460192), (6.1717451491, -8.4946784409), (4.3944904749, -9.5361655536))
            Line((4.3944904749, -9.5361655536), (5.6191416552, -11.221753297))
            ThreePointArc((5.6191416552, -11.221753297), (7.3767049163, -10.1531632794), (8.9361113321, -8.8118337626))
        make_face()
        with BuildLine():
            ThreePointArc((-2.05, 10.2979366865), (0, 10.5), (2.05, 10.2979366865))
            Line((2.05, 10.2979366865), (2.05, 12.3814377194))
            ThreePointArc((2.05, 12.3814377194), (0, 12.55), (-2.05, 12.3814377194))
            Line((-2.05, 12.3814377194), (-2.05, 10.2979366865))
        make_face()
        with BuildLine():
            Line((2.05, -12.3814377194), (2.05, -10.2979366865))
            ThreePointArc((2.05, -10.2979366865), (0, -10.5), (-2.05, -10.2979366865))
            Line((-2.05, -10.2979366865), (-2.05, -12.3814377194))
            ThreePointArc((-2.05, -12.3814377194), (0, -12.55), (2.05, -12.3814377194))
        make_face()
        with BuildLine():
            ThreePointArc((-7.7114601519, 7.1262460192), (-6.1717451491, 8.4946784409), (-4.3944904749, 9.5361655536))
            Line((-4.3944904749, 9.5361655536), (-5.6191416552, 11.221753297))
            ThreePointArc((-5.6191416552, 11.221753297), (-7.3767049163, 10.1531632794), (-8.9361113321, 8.8118337626))
            Line((-8.9361113321, 8.8118337626), (-7.7114601519, 7.1262460192))
        make_face()
        with BuildLine():
            Line((-5.6191416552, -11.221753297), (-4.3944904749, -9.5361655536))
            ThreePointArc((-4.3944904749, -9.5361655536), (-6.1717451491, -8.4946784409), (-7.7114601519, -7.1262460192))
            Line((-7.7114601519, -7.1262460192), (-8.9361113321, -8.8118337626))
            ThreePointArc((-8.9361113321, -8.8118337626), (-7.3767049163, -10.1531632794), (-5.6191416552, -11.221753297))
        make_face()
        with BuildLine():
            ThreePointArc((-10.4274046286, 1.2325715847), (-9.9860934211, 3.2446784409), (-9.1604349517, 5.1319033015))
            Line((-9.1604349517, 5.1319033015), (-11.1419621857, 5.7757405285))
            ThreePointArc((-11.1419621857, 5.7757405285), (-11.9357592795, 3.8781632794), (-12.4089318626, 1.8764088117))
            Line((-12.4089318626, 1.8764088117), (-10.4274046286, 1.2325715847))
        make_face()
        with BuildLine():
            Line((-11.1419621857, -5.7757405285), (-9.1604349517, -5.1319033015))
            ThreePointArc((-9.1604349517, -5.1319033015), (-9.9860934211, -3.2446784409), (-10.4274046286, -1.2325715847))
            Line((-10.4274046286, -1.2325715847), (-12.4089318626, -1.8764088117))
            ThreePointArc((-12.4089318626, -1.8764088117), (-11.9357592795, -3.8781632794), (-11.1419621857, -5.7757405285))
        make_face()
    extrude(amount=F3_DEPTH, both=True, mode=Mode.SUBTRACT)


solid = f2.part
